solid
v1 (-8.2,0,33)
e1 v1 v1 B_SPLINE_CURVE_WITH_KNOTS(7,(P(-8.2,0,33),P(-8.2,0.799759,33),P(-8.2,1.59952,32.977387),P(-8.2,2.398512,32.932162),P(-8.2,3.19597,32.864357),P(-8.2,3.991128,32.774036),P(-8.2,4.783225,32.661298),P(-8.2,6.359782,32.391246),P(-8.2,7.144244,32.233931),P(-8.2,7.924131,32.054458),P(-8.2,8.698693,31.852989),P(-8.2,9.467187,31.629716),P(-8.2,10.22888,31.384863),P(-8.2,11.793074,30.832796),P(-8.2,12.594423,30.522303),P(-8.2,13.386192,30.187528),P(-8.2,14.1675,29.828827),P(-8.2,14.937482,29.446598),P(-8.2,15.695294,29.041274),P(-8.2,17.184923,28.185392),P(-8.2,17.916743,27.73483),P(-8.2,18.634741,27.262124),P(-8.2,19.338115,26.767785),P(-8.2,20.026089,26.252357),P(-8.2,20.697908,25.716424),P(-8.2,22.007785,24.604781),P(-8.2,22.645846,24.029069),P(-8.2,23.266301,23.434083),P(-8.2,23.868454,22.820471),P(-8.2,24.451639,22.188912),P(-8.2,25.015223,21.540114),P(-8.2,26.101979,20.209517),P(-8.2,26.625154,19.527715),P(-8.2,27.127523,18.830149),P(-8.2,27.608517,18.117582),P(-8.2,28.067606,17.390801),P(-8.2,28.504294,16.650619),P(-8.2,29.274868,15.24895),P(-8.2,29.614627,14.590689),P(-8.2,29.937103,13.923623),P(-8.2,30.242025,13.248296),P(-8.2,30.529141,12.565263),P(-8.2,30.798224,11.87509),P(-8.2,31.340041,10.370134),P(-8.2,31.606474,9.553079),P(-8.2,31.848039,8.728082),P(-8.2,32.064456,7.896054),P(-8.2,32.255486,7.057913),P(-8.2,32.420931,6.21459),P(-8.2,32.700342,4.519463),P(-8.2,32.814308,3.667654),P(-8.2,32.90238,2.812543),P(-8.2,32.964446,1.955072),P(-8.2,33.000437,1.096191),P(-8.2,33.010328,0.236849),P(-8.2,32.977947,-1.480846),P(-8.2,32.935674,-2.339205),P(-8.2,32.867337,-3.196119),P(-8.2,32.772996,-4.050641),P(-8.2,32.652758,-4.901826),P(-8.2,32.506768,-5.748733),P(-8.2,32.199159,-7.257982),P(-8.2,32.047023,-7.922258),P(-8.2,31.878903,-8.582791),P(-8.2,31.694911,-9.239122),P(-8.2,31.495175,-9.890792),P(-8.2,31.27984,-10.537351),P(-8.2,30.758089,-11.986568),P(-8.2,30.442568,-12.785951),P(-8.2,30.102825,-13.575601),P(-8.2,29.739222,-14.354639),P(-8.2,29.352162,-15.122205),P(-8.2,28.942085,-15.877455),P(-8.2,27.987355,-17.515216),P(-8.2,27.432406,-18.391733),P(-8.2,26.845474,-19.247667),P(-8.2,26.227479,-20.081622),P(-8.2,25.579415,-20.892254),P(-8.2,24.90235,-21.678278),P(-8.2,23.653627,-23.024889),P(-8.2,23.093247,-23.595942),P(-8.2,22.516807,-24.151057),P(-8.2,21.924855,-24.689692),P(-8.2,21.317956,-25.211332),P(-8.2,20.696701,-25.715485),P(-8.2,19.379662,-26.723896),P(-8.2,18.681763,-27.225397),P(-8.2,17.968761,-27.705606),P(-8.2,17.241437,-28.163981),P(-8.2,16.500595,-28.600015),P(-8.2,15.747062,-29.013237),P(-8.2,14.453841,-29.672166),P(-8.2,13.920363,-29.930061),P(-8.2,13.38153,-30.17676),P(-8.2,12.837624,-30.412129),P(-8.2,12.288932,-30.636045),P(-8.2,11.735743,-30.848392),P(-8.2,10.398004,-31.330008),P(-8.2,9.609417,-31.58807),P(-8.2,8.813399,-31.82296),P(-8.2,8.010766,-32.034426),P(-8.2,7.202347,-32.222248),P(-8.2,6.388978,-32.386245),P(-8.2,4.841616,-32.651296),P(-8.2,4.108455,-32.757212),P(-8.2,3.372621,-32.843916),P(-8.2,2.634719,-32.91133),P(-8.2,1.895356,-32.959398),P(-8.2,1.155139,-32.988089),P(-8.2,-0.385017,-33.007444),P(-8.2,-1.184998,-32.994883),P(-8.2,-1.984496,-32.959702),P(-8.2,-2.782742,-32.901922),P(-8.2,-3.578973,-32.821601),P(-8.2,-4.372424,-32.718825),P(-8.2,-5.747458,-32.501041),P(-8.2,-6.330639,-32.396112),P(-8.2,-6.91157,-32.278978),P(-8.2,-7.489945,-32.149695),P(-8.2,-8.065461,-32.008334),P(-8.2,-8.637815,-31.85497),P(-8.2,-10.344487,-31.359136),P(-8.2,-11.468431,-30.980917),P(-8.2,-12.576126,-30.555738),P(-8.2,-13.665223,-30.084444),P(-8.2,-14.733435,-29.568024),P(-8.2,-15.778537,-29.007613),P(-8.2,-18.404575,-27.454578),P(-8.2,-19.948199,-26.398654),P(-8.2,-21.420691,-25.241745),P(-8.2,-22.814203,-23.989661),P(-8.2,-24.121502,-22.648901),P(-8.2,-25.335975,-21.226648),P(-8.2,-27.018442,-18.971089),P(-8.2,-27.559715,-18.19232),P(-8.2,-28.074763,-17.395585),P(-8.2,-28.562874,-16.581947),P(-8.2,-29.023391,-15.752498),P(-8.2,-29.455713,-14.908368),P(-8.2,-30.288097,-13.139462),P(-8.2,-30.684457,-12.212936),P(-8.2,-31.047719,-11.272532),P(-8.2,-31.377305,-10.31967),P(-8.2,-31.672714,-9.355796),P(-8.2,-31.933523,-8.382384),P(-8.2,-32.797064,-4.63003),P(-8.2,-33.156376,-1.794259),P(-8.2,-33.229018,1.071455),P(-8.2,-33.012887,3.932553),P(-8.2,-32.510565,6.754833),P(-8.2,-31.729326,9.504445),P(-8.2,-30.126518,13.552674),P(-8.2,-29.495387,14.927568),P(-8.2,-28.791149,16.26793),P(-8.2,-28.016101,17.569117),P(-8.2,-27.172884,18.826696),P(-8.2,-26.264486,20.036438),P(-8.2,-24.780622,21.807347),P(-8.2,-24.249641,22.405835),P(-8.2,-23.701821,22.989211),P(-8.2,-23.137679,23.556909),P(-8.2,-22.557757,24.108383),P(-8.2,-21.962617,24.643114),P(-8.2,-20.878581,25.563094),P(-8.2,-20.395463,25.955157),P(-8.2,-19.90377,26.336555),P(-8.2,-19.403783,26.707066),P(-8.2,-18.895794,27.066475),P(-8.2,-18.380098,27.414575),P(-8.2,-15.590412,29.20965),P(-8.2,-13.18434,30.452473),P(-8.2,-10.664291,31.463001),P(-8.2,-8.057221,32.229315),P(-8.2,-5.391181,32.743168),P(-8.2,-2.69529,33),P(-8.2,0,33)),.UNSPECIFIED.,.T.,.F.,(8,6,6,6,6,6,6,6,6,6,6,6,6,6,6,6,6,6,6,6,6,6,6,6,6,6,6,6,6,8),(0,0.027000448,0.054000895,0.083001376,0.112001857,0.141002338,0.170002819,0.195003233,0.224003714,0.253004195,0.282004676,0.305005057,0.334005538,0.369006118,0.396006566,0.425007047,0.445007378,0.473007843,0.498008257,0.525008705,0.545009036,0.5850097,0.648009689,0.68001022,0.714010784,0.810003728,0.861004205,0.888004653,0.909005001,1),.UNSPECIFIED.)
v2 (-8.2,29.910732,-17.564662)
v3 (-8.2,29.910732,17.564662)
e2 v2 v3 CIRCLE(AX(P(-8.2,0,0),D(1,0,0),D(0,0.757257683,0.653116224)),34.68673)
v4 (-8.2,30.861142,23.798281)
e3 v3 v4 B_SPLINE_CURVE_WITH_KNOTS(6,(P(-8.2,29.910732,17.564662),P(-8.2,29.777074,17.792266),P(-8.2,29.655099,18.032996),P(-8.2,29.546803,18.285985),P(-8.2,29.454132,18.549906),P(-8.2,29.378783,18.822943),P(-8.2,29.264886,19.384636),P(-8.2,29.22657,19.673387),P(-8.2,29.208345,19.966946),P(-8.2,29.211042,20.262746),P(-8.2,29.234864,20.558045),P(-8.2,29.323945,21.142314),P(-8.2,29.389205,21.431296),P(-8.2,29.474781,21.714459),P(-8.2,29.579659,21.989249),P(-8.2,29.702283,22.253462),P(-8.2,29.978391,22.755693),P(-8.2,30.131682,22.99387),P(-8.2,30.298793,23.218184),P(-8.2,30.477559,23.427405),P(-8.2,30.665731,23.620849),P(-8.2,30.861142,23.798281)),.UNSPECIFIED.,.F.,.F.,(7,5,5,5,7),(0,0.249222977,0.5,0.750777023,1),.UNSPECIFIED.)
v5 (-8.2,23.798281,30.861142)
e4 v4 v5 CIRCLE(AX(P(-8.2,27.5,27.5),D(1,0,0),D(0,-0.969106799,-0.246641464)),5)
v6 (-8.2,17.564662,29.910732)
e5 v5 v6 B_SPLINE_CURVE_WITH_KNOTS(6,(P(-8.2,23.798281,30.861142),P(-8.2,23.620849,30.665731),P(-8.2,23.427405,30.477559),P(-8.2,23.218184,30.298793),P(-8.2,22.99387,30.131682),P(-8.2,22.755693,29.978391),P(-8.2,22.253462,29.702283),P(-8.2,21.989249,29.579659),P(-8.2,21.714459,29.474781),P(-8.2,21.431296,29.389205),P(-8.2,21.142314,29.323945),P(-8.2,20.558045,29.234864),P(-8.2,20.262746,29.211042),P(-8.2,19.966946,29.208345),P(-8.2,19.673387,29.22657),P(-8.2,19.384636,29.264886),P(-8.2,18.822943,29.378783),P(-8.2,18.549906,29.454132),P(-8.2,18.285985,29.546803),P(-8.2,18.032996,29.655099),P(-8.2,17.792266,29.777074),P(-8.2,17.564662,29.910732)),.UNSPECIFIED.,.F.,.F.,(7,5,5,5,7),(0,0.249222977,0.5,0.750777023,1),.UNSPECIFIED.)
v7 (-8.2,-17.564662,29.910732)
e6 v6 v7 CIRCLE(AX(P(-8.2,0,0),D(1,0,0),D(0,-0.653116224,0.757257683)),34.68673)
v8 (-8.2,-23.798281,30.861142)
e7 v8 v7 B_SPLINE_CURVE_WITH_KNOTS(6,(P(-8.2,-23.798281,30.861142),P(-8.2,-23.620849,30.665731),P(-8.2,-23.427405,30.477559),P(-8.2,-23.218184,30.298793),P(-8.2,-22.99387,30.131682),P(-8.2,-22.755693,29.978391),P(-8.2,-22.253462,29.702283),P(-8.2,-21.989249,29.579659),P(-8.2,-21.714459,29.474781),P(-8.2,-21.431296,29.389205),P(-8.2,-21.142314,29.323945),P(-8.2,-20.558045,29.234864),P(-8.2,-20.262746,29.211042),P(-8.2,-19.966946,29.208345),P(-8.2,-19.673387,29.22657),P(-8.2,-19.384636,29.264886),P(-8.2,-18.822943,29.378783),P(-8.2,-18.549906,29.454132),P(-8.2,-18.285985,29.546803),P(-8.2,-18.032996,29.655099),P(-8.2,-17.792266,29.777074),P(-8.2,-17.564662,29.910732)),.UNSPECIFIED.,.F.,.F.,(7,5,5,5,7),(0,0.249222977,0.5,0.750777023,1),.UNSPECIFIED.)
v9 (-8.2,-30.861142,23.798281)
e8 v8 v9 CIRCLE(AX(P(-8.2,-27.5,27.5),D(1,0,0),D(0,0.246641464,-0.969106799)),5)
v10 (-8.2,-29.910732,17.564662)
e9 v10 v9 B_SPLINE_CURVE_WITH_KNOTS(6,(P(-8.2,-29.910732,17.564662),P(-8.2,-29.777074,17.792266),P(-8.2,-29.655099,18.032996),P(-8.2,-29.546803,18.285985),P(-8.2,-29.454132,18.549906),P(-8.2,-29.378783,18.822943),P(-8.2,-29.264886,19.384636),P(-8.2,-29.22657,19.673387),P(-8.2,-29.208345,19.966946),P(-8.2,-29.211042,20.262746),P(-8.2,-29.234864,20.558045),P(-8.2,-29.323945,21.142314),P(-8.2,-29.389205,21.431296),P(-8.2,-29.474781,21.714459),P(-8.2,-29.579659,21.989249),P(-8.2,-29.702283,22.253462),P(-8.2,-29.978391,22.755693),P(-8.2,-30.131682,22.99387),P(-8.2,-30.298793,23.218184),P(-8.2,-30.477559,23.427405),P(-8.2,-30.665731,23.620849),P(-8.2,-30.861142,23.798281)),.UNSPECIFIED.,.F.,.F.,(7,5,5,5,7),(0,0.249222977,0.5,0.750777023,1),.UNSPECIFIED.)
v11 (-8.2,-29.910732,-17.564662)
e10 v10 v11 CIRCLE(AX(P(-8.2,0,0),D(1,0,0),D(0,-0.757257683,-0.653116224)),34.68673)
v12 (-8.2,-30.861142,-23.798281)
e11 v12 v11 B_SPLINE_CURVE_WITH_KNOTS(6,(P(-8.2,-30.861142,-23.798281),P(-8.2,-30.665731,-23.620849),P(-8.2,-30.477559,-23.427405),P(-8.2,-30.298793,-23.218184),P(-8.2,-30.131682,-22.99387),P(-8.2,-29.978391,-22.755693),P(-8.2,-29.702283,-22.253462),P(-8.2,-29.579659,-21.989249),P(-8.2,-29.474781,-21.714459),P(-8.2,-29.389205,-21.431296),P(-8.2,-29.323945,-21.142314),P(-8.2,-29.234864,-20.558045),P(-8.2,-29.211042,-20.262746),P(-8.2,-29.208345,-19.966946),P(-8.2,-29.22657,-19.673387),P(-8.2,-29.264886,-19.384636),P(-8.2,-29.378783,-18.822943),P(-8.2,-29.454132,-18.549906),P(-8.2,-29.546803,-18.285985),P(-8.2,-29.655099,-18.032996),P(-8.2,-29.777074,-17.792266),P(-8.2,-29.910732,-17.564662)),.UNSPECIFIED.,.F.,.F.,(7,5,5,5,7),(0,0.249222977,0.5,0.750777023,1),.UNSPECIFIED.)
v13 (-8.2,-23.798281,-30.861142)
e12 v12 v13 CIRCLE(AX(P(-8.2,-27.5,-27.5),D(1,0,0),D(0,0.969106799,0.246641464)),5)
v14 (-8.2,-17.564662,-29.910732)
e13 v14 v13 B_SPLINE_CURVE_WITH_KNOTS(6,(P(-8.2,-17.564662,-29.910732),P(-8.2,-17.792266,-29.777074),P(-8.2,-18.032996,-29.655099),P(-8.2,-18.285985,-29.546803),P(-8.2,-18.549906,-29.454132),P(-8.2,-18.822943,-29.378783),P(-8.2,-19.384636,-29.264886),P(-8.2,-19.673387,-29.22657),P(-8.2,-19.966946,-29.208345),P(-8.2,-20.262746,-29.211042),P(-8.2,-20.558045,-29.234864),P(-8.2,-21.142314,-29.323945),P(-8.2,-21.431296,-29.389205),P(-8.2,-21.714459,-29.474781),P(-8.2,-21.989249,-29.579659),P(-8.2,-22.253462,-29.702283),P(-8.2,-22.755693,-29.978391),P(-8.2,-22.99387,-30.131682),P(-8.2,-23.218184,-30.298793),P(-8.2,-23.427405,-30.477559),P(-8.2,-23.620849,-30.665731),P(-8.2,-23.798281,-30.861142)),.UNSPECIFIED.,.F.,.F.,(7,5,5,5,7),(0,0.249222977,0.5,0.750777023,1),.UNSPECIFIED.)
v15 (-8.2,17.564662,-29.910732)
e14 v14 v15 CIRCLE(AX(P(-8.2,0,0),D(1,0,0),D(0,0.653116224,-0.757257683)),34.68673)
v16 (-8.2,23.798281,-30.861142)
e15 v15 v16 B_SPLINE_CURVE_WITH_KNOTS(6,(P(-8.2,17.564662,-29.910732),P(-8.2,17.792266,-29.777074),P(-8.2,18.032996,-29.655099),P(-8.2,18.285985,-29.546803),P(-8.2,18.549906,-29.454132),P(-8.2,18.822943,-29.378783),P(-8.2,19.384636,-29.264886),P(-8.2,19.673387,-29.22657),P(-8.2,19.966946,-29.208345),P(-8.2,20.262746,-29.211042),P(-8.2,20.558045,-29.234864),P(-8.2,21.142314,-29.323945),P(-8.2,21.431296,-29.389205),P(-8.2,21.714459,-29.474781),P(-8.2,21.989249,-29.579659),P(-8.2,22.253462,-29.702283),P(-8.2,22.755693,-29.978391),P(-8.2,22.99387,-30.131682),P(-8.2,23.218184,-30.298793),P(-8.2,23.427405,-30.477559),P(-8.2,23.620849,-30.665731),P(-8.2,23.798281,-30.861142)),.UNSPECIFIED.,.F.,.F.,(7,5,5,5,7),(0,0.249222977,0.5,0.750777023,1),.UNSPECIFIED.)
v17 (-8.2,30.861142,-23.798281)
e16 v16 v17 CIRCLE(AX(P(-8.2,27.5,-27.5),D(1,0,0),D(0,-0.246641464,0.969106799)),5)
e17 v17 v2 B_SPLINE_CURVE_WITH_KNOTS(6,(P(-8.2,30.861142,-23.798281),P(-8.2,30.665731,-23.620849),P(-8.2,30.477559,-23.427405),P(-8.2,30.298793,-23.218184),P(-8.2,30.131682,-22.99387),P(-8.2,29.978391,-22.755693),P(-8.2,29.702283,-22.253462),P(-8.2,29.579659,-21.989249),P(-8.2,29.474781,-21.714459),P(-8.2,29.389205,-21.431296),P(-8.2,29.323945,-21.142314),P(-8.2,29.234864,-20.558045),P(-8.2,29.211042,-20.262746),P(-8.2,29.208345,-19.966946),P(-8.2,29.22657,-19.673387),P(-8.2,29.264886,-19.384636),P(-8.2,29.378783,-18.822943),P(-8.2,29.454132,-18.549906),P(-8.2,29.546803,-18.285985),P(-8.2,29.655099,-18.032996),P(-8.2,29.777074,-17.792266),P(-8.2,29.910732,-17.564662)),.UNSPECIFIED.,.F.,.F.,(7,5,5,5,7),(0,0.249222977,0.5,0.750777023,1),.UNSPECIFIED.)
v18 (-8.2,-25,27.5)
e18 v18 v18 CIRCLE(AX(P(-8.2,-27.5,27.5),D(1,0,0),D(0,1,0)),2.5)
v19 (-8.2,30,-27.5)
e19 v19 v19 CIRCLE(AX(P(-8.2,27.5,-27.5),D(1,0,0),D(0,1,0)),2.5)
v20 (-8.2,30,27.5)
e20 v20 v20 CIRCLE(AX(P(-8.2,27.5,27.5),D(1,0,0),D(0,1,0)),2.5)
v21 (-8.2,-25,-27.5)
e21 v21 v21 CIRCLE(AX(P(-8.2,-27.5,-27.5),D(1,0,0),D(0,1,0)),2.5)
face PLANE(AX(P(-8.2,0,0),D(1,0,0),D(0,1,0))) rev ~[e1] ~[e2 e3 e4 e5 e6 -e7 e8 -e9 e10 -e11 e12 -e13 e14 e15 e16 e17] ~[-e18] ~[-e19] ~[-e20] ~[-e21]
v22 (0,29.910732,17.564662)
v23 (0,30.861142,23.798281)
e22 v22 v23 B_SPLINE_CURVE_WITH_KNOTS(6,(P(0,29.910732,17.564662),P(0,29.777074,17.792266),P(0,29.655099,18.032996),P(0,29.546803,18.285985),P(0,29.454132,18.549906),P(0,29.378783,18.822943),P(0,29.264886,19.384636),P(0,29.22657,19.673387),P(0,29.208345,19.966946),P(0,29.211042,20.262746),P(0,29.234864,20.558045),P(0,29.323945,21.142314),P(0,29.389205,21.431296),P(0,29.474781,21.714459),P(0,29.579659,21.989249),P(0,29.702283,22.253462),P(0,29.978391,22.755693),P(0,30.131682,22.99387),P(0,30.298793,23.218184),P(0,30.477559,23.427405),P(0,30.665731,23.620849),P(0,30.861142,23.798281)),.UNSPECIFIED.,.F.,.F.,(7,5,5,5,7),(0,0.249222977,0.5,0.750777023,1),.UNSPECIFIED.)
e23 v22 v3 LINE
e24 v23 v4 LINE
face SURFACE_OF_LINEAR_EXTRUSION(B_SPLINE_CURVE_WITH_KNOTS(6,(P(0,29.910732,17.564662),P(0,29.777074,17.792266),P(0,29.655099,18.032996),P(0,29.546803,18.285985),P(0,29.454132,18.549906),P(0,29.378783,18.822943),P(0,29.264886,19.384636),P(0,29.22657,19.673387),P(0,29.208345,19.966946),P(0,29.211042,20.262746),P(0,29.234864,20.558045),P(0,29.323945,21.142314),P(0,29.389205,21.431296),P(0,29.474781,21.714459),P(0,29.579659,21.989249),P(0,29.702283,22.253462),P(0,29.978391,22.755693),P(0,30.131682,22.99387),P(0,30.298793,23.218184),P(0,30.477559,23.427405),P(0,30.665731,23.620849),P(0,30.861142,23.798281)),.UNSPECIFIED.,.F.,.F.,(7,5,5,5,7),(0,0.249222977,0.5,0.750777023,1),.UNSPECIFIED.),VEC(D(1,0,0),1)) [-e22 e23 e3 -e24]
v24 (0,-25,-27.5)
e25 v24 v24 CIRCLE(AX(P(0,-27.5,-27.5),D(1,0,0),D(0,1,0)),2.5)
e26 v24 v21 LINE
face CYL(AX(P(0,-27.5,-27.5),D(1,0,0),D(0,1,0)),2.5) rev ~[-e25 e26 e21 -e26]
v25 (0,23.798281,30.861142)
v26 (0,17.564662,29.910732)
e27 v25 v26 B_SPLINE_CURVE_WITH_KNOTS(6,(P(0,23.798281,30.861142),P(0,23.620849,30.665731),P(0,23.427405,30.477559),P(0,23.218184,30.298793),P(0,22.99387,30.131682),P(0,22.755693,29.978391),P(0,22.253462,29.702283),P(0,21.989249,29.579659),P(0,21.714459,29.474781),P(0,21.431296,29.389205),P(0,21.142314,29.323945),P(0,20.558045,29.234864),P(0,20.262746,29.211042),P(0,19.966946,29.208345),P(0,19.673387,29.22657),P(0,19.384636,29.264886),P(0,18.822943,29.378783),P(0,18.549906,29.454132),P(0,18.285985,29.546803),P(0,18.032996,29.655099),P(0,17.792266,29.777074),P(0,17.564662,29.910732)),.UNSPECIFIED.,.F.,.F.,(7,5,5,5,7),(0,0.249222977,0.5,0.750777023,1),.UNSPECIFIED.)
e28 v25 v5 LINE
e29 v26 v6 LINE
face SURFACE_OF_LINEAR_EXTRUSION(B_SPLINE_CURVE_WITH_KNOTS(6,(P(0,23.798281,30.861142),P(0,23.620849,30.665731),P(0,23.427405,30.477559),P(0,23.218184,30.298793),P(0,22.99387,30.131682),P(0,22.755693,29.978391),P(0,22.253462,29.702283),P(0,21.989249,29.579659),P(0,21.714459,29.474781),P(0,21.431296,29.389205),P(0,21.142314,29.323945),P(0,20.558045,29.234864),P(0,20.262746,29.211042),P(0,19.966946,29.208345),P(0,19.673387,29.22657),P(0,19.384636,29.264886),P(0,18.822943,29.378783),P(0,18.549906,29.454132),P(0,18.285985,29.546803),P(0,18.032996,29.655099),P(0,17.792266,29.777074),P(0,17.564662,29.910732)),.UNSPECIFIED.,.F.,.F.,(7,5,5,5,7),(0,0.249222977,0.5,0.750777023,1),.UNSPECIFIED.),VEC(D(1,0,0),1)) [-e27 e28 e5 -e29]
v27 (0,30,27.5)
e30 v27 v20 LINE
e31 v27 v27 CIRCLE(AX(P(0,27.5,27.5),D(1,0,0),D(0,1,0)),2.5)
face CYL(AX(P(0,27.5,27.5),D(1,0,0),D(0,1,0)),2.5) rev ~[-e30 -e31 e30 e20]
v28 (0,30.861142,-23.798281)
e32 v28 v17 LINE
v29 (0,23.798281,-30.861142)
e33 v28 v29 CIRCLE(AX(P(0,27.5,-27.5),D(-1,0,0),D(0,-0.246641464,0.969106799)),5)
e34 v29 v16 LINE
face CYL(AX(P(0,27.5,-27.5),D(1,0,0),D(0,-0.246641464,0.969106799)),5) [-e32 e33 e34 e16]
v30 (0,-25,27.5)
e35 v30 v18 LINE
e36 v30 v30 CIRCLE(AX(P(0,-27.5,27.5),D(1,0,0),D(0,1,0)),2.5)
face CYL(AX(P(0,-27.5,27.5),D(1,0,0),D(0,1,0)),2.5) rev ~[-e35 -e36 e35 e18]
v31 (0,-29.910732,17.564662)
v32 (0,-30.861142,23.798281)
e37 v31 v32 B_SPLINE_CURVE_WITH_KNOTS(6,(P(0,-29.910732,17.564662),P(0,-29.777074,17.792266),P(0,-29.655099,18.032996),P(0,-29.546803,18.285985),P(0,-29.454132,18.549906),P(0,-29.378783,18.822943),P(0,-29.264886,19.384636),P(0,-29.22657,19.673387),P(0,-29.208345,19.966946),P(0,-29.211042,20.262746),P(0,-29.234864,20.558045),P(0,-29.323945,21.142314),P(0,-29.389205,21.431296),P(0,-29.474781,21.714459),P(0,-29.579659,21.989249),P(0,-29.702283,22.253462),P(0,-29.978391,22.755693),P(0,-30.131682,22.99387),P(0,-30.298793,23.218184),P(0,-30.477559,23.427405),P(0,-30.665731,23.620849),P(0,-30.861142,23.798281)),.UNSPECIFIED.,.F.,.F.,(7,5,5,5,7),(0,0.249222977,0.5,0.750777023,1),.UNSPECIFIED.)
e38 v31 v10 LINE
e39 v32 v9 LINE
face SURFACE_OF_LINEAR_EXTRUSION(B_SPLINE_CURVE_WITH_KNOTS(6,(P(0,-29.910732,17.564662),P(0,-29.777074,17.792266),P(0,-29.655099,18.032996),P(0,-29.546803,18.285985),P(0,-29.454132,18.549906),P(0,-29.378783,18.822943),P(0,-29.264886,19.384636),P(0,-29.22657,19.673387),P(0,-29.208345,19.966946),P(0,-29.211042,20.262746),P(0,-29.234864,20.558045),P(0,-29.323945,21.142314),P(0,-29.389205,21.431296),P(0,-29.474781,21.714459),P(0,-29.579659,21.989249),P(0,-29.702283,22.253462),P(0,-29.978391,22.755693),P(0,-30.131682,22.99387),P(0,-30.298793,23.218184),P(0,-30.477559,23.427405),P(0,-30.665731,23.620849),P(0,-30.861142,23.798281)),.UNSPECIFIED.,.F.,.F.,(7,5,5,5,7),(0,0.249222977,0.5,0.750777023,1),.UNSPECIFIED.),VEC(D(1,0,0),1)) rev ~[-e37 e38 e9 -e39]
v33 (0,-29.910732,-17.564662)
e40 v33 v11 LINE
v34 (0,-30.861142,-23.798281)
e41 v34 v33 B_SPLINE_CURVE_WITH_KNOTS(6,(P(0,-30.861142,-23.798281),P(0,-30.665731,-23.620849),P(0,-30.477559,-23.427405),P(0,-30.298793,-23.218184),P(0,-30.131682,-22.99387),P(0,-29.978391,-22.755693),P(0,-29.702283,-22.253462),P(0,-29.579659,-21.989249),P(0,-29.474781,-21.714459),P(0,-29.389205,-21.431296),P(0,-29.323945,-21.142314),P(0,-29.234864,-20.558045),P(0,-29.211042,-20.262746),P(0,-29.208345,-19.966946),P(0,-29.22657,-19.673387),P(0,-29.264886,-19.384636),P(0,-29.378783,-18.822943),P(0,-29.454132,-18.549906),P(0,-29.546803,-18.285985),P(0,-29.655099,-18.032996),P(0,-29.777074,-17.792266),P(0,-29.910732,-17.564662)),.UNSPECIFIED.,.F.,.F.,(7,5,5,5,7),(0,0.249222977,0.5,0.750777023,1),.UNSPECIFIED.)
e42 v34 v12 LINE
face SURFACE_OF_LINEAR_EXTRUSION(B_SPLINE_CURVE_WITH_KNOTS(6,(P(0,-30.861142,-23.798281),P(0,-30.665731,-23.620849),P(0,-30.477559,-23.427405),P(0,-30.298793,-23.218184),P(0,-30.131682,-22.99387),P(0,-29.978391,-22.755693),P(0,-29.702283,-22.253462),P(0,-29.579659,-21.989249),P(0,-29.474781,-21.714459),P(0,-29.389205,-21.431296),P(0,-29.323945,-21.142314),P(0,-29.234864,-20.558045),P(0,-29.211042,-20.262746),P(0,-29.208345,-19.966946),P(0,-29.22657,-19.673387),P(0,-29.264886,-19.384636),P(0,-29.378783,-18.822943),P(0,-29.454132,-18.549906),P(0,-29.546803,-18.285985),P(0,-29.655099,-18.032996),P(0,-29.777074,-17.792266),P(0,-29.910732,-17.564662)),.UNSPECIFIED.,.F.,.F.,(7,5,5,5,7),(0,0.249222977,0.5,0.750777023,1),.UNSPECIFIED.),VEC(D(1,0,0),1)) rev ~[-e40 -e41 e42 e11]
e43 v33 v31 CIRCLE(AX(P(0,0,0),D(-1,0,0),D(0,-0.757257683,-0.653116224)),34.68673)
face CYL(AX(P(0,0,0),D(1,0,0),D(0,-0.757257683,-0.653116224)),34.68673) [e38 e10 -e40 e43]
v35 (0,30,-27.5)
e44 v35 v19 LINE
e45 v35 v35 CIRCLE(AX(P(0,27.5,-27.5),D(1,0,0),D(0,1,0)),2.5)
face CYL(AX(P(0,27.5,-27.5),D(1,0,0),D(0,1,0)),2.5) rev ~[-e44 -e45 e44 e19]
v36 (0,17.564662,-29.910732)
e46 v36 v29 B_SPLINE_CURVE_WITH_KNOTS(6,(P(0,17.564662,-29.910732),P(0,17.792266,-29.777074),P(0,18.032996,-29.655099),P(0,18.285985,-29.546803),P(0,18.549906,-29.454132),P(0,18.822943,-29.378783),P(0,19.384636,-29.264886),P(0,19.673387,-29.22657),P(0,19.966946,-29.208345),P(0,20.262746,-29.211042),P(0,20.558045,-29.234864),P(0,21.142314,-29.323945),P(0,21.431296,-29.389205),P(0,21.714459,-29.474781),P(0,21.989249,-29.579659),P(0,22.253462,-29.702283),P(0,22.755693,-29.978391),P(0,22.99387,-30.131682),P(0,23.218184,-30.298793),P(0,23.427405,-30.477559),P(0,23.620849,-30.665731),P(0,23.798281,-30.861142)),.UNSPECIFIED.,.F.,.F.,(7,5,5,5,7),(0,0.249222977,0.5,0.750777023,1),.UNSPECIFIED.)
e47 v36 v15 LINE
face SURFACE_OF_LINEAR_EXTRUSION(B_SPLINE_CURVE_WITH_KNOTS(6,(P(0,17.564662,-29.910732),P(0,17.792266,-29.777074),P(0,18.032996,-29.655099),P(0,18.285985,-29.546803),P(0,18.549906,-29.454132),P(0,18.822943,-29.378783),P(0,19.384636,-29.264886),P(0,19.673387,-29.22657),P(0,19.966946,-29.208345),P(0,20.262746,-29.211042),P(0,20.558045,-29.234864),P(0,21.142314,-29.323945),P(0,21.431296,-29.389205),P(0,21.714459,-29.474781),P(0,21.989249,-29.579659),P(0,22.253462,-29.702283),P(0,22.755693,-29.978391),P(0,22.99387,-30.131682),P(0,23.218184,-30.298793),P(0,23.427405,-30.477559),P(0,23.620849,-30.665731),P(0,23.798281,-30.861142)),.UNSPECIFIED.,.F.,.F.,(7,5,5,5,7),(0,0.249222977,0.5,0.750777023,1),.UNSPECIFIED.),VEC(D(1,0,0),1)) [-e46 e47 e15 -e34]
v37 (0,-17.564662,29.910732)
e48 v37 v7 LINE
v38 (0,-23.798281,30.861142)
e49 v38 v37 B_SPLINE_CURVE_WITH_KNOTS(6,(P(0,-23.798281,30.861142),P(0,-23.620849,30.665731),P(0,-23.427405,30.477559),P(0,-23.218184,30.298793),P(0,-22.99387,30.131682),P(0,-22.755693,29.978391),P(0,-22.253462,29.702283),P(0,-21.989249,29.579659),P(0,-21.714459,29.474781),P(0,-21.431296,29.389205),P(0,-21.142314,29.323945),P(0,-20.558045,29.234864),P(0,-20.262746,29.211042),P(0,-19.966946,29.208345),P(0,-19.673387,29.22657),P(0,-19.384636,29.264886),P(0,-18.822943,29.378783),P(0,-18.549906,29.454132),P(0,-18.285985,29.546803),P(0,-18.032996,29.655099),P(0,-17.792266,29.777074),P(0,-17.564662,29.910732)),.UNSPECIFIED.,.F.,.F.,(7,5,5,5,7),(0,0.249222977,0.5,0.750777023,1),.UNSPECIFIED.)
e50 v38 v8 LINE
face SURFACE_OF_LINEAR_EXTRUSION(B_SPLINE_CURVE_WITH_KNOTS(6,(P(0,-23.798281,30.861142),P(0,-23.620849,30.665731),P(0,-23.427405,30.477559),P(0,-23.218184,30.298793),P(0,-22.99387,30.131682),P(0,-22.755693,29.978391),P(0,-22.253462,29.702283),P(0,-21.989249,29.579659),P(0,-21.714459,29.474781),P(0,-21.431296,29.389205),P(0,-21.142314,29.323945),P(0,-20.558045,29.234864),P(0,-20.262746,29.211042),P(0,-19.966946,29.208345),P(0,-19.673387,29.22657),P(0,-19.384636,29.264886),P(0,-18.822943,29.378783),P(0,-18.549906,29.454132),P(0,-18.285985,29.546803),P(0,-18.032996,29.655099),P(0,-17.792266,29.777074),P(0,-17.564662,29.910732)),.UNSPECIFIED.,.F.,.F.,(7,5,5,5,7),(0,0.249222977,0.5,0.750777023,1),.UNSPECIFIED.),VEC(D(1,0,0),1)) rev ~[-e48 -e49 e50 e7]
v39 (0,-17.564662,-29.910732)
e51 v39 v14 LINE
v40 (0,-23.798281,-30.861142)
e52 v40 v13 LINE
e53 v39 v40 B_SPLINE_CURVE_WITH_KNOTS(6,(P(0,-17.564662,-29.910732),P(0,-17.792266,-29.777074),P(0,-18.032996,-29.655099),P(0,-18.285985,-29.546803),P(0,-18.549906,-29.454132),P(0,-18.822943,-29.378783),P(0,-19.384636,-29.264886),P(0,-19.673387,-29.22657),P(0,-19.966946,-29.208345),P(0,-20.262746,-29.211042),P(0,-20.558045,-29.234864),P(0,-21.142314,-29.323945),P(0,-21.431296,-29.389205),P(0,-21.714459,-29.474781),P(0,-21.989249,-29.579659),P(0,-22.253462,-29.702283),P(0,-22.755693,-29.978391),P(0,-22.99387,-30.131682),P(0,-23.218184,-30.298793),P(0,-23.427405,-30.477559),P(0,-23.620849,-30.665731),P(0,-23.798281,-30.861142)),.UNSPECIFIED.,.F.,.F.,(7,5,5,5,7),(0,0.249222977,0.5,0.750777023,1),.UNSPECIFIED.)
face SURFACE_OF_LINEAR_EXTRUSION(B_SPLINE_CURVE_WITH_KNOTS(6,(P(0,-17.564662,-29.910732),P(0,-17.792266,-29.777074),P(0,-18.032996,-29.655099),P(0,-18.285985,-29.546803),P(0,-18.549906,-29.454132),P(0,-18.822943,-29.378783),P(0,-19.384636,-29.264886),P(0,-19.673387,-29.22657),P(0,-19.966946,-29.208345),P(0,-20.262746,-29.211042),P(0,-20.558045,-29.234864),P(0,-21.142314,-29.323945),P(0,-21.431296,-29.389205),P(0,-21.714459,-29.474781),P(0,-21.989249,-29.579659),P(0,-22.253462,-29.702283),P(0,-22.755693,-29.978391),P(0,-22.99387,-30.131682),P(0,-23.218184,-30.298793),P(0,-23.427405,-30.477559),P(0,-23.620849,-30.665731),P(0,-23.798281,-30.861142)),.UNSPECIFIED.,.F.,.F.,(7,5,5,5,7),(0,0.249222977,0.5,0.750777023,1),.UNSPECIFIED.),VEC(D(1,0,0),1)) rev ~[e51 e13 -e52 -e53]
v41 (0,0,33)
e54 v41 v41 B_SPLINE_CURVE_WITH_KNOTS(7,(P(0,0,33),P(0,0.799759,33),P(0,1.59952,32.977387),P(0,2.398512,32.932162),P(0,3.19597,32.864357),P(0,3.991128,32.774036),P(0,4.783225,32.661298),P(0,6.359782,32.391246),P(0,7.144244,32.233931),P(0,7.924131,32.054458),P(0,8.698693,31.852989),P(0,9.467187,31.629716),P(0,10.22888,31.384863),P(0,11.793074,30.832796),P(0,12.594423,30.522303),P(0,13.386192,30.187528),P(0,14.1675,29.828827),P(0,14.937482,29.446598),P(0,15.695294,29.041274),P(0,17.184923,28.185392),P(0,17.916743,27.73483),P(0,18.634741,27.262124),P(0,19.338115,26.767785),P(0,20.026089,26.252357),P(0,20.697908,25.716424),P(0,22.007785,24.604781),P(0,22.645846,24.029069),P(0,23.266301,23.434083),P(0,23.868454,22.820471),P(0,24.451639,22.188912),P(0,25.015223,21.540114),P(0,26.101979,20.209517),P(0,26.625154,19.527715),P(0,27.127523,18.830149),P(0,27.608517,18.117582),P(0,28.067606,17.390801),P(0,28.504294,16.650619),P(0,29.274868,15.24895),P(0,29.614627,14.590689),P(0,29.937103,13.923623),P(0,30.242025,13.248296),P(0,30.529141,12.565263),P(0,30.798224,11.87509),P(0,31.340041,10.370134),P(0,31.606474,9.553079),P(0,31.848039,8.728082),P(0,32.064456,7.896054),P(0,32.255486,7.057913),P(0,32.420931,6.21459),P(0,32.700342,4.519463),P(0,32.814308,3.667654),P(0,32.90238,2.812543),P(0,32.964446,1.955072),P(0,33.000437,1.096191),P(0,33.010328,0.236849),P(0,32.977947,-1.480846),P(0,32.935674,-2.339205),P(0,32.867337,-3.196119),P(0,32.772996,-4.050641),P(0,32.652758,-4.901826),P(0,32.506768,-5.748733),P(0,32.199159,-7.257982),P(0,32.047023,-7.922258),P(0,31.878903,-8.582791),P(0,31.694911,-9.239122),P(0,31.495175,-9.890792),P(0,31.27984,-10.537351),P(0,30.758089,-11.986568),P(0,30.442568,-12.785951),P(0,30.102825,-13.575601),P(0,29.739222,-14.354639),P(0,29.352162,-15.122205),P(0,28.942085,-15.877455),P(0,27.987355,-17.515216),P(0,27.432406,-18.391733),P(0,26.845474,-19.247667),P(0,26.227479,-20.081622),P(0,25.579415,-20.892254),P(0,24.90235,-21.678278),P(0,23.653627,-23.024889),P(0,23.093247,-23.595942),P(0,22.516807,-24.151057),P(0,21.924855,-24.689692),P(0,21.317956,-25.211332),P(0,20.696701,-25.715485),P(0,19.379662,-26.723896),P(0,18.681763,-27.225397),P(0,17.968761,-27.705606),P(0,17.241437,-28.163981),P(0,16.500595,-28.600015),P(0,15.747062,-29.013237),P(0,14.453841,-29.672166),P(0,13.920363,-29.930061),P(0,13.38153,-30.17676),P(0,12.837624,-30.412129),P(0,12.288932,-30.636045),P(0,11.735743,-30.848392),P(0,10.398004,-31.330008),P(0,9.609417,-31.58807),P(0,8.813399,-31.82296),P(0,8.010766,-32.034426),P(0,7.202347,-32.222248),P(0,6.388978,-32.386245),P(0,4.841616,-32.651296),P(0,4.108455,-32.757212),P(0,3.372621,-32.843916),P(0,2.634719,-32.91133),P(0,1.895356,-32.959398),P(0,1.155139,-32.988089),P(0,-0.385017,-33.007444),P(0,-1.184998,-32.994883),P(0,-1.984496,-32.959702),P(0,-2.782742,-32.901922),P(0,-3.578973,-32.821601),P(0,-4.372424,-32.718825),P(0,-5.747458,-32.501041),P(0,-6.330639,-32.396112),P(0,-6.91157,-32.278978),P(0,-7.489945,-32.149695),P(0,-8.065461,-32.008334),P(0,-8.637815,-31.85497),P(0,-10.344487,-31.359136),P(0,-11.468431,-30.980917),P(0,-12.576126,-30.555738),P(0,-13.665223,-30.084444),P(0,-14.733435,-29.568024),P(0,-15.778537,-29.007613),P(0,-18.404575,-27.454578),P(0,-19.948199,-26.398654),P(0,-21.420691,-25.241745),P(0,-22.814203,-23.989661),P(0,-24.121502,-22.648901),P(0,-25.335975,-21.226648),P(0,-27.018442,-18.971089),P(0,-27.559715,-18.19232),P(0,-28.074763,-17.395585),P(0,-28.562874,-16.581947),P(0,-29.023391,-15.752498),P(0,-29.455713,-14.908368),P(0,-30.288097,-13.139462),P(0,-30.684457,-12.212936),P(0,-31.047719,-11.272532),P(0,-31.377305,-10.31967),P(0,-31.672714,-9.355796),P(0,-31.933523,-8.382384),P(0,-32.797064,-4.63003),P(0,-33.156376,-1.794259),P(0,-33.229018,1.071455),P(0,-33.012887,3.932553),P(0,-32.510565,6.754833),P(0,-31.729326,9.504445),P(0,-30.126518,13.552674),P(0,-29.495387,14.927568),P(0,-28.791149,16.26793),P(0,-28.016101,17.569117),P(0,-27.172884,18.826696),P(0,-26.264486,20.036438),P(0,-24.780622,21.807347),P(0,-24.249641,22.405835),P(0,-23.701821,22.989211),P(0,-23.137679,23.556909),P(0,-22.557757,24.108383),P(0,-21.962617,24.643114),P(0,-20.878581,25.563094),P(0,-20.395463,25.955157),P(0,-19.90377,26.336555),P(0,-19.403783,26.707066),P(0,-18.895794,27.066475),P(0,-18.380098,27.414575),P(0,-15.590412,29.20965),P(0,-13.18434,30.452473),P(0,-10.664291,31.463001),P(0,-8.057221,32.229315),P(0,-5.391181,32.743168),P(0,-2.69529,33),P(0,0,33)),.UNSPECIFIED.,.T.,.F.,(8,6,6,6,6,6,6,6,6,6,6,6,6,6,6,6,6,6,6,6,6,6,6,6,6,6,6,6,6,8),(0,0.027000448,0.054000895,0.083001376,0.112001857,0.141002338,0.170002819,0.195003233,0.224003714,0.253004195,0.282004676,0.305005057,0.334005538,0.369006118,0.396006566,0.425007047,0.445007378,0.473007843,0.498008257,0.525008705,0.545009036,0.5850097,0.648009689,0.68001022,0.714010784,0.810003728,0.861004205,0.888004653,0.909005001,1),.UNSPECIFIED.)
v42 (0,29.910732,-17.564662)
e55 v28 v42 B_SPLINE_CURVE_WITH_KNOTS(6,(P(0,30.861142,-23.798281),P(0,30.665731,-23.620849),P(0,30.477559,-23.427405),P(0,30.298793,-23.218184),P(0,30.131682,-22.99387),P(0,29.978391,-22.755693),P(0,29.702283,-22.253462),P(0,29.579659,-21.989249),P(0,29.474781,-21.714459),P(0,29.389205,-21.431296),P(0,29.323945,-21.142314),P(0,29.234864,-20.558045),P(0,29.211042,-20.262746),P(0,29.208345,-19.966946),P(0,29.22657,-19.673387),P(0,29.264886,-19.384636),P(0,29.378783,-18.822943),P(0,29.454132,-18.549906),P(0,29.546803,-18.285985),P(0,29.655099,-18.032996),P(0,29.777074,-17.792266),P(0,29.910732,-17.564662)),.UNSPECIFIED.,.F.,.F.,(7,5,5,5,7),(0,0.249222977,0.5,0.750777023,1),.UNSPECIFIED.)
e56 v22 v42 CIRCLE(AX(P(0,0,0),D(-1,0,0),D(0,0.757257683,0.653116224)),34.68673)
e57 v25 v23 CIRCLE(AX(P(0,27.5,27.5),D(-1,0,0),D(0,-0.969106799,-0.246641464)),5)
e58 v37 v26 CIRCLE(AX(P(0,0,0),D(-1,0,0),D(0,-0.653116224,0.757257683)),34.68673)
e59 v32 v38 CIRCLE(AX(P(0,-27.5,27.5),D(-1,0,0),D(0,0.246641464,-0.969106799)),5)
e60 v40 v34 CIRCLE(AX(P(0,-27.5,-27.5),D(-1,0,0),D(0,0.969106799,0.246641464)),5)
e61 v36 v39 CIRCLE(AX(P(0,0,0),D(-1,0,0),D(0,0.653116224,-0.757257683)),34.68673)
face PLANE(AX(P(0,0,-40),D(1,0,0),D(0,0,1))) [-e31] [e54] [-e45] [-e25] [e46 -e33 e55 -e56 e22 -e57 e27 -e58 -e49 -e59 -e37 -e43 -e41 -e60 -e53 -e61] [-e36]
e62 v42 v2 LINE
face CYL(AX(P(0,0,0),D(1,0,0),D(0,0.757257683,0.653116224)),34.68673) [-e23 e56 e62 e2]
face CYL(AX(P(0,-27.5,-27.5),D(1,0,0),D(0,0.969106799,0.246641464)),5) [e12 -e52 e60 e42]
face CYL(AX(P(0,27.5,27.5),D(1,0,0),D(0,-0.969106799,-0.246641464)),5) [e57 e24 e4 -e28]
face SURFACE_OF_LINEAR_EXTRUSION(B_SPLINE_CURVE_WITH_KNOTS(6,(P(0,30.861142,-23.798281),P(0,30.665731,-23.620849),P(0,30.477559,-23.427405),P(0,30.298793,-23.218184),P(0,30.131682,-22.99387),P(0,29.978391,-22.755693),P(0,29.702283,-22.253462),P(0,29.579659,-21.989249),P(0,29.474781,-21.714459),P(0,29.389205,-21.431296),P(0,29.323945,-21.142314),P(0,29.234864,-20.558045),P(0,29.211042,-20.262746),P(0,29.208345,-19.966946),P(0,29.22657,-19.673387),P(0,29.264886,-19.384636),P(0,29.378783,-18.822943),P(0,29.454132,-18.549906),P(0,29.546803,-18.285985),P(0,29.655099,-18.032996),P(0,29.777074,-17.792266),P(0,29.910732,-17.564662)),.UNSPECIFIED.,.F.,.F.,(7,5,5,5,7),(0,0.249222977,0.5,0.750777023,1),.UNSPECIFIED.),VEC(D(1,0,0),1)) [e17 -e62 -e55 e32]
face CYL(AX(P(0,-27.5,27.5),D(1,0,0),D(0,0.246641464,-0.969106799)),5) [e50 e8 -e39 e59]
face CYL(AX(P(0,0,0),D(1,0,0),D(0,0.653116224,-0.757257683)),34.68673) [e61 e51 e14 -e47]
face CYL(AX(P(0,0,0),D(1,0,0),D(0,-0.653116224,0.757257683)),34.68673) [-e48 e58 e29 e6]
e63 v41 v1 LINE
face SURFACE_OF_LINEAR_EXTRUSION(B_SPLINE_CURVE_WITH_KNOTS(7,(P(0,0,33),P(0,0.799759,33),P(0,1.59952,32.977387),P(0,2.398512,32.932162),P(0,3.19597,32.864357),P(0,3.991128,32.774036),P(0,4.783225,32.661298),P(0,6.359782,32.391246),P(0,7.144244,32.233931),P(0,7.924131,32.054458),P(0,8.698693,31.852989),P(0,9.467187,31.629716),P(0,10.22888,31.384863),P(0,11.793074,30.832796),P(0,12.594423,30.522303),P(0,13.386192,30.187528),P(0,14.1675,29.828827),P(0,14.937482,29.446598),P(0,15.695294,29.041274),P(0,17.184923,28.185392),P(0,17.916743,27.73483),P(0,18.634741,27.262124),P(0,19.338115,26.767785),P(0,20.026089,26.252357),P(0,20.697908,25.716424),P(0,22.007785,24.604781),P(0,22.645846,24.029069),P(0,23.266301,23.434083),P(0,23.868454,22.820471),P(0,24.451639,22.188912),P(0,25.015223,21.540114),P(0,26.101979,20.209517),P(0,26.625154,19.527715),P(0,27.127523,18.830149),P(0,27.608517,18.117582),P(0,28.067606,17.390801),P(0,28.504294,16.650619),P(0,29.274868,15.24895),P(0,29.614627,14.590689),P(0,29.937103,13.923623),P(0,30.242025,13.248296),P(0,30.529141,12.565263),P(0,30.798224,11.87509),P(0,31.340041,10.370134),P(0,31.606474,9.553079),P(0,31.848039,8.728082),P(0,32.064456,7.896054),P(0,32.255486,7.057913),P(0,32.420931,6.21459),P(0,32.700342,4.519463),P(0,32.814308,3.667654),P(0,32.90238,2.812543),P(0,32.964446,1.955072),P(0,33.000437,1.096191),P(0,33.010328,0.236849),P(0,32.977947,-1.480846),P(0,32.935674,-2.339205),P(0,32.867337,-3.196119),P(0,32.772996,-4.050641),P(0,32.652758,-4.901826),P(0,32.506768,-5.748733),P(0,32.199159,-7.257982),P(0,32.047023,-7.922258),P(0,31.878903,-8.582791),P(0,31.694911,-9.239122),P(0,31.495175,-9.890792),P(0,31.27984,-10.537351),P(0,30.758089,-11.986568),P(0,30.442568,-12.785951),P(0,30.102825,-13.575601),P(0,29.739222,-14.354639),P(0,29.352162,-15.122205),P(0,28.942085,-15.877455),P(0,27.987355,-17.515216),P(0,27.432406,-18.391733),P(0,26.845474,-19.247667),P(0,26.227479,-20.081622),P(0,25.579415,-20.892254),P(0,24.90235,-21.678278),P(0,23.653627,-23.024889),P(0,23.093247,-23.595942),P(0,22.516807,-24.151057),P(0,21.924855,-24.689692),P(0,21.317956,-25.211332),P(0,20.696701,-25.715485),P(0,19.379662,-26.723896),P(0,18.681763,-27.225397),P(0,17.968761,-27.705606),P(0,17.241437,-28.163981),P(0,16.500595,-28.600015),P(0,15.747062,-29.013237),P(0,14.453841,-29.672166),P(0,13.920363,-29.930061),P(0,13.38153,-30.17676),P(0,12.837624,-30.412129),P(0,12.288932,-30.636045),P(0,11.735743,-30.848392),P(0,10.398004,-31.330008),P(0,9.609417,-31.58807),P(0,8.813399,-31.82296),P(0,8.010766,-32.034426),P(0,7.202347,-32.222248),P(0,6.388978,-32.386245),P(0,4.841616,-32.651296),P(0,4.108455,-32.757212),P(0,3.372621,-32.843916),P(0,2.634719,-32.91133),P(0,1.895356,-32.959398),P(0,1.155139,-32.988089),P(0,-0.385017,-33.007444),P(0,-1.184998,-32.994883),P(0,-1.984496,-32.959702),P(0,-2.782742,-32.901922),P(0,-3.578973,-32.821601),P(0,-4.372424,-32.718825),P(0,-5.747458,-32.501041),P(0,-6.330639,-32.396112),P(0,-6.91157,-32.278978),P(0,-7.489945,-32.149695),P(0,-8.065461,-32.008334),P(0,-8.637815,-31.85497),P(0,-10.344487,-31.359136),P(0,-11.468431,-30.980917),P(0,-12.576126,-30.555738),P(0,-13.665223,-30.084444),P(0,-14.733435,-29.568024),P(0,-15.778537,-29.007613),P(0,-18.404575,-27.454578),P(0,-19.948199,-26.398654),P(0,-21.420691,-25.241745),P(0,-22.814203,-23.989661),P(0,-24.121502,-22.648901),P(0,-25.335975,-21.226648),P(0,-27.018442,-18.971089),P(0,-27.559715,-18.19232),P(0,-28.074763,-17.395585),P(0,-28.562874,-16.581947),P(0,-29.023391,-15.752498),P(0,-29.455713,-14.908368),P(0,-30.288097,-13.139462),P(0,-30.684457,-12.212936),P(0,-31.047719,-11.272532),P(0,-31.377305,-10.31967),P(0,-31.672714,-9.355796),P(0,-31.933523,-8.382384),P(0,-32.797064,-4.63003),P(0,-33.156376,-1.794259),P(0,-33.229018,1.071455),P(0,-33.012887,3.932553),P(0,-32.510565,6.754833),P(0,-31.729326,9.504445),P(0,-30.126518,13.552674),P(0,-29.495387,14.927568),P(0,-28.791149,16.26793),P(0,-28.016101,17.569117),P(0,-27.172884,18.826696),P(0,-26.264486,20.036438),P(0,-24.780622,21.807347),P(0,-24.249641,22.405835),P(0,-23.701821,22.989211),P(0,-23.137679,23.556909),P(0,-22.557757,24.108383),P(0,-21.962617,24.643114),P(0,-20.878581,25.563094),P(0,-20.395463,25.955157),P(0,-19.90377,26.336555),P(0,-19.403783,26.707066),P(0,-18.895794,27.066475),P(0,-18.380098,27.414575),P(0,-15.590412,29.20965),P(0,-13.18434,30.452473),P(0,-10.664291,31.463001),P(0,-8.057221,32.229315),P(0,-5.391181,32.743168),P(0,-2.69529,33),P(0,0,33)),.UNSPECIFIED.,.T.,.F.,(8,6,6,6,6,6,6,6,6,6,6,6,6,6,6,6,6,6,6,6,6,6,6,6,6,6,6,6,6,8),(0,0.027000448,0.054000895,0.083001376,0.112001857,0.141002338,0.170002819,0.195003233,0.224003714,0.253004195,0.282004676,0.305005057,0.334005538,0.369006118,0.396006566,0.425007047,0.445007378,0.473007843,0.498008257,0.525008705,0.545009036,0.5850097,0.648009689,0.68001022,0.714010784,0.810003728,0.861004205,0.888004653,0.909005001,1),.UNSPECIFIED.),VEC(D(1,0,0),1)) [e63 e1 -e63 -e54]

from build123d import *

# Parameters (mm, degrees)
F0_W          = 40
F0_H          = 80
F1_DEPTH      = 40
F1_DEPTH_BACK = 40
F4_R          = 64.2808012101
F5_DEPTH      = 40
F6_R          = 2.5
F7_DEPTH      = 40.001
F8_W          = 100
F8_H          = 100
F9_DEPTH      = 20.001
F10_R         = 5
F11_DEPTH     = 8.2
F12_DEPTH     = 20


with BuildPart() as f1:
    # F0 (on Front) → F1 (new body, two sides)
    with BuildSketch(Plane.XZ) as f1_sk:
        Rectangle(F0_W, F0_H)
    extrude(amount=F1_DEPTH)
    extrude(f1_sk.sketch, amount=-F1_DEPTH_BACK)

    # F2 (on Front) → F3 (revolve, cut)
    with BuildSketch(Plane.XZ):
        Polygon((17.4, 25), (-17.4, 25), (-38.4665206075, 25), (-38.4665206075, 0), (-17.4, 0), (17.4, 0), (38.4665206075, 0), (38.4665206075, 25), align=None)
        with BuildLine():
            Line((-17.4, 27.0906653559), (-17.4, 25))
            Line((-17.4, 25), (17.4, 25))
            Line((17.4, 25), (17.4, 27.0906653559))
            ThreePointArc((17.4, 27.0906653559), (16.184643895, 30.3581522477), (13.1294117647, 32.0371750827))
            ThreePointArc((13.1294117647, 32.0371750827), (0, 33), (-13.1294117647, 32.0371750827))
            ThreePointArc((-13.1294117647, 32.0371750827), (-16.184643895, 30.3581522477), (-17.4, 27.0906653559))
        make_face()
    revolve(axis=Axis((-30.739078176, 0, 0), (1, 0, 0)), mode=Mode.SUBTRACT)

    # F4 (on face) → F5 (cut)
    with BuildSketch(Plane.YZ.offset(20)):
        Circle(F4_R)
        with BuildLine():
            ThreePointArc((-22.6544660047, -26.2667926776), (-31.0355339059, -31.0355339059), (-26.2667926776, -22.6544660047))
            ThreePointArc((-26.2667926776, -22.6544660047), (-34.6867298477, 0), (-26.2667926776, 22.6544660047))
            ThreePointArc((-26.2667926776, 22.6544660047), (-31.0355339059, 31.0355339059), (-22.6544660047, 26.2667926776))
            ThreePointArc((-22.6544660047, 26.2667926776), (0, 34.6867298477), (22.6544660047, 26.2667926776))
            ThreePointArc((22.6544660047, 26.2667926776), (31.0355339059, 31.0355339059), (26.2667926776, 22.6544660047))
            ThreePointArc((26.2667926776, 22.6544660047), (34.6867298477, 0), (26.2667926776, -22.6544660047))
            ThreePointArc((26.2667926776, -22.6544660047), (31.0355339059, -31.0355339059), (22.6544660047, -26.2667926776))
            ThreePointArc((22.6544660047, -26.2667926776), (0, -34.6867298477), (-22.6544660047, -26.2667926776))
        make_face(mode=Mode.SUBTRACT)
    extrude(amount=-F5_DEPTH, mode=Mode.SUBTRACT)

    # F6 (on face) → F7 (cut, through all)
    with BuildSketch(Plane.YZ.offset(20)):
        with Locations((-27.5, 27.5)):
            Circle(F6_R)
        with Locations((27.5, 27.5)):
            Circle(F6_R)
        with Locations((-27.5, -27.5)):
            Circle(F6_R)
        with Locations((27.5, -27.5)):
            Circle(F6_R)
    extrude(amount=-F7_DEPTH, mode=Mode.SUBTRACT)

    # F8 (on Right) → F9 (cut, through all)
    with BuildSketch(Plane.YZ):
        Rectangle(F8_W, F8_H)
    extrude(amount=-F9_DEPTH, mode=Mode.SUBTRACT)

    # F10
    f10_edges = [f1.edges().sort_by_distance(p)[0] for p in [
        (10, -26.266793, -22.654466),
        (10, -26.266793, 22.654466),
        (10, 22.654466, 26.266793),
        (10, -22.654466, 26.266793),
        (10, 26.266793, 22.654466),
        (10, 26.266793, -22.654466),
        (10, 22.654466, -26.266793),
        (10, -22.654466, -26.266793),
    ]]
    fillet(f10_edges, radius=F10_R)

    # F11 (add): a face of the model
    f11_faces = [f1.faces().sort_by_distance(p)[0] for p in [
        (0, -30.341799307, -30.341799307),
    ]]
    extrude(f11_faces, amount=F11_DEPTH)

    # F12 (cut): a face of the model
    f12_faces = [f1.faces().sort_by_distance(p)[0] for p in [
        (20, 0, -33.7056409691),
    ]]
    extrude(f12_faces, amount=-F12_DEPTH, mode=Mode.SUBTRACT)


solid = f1.part
